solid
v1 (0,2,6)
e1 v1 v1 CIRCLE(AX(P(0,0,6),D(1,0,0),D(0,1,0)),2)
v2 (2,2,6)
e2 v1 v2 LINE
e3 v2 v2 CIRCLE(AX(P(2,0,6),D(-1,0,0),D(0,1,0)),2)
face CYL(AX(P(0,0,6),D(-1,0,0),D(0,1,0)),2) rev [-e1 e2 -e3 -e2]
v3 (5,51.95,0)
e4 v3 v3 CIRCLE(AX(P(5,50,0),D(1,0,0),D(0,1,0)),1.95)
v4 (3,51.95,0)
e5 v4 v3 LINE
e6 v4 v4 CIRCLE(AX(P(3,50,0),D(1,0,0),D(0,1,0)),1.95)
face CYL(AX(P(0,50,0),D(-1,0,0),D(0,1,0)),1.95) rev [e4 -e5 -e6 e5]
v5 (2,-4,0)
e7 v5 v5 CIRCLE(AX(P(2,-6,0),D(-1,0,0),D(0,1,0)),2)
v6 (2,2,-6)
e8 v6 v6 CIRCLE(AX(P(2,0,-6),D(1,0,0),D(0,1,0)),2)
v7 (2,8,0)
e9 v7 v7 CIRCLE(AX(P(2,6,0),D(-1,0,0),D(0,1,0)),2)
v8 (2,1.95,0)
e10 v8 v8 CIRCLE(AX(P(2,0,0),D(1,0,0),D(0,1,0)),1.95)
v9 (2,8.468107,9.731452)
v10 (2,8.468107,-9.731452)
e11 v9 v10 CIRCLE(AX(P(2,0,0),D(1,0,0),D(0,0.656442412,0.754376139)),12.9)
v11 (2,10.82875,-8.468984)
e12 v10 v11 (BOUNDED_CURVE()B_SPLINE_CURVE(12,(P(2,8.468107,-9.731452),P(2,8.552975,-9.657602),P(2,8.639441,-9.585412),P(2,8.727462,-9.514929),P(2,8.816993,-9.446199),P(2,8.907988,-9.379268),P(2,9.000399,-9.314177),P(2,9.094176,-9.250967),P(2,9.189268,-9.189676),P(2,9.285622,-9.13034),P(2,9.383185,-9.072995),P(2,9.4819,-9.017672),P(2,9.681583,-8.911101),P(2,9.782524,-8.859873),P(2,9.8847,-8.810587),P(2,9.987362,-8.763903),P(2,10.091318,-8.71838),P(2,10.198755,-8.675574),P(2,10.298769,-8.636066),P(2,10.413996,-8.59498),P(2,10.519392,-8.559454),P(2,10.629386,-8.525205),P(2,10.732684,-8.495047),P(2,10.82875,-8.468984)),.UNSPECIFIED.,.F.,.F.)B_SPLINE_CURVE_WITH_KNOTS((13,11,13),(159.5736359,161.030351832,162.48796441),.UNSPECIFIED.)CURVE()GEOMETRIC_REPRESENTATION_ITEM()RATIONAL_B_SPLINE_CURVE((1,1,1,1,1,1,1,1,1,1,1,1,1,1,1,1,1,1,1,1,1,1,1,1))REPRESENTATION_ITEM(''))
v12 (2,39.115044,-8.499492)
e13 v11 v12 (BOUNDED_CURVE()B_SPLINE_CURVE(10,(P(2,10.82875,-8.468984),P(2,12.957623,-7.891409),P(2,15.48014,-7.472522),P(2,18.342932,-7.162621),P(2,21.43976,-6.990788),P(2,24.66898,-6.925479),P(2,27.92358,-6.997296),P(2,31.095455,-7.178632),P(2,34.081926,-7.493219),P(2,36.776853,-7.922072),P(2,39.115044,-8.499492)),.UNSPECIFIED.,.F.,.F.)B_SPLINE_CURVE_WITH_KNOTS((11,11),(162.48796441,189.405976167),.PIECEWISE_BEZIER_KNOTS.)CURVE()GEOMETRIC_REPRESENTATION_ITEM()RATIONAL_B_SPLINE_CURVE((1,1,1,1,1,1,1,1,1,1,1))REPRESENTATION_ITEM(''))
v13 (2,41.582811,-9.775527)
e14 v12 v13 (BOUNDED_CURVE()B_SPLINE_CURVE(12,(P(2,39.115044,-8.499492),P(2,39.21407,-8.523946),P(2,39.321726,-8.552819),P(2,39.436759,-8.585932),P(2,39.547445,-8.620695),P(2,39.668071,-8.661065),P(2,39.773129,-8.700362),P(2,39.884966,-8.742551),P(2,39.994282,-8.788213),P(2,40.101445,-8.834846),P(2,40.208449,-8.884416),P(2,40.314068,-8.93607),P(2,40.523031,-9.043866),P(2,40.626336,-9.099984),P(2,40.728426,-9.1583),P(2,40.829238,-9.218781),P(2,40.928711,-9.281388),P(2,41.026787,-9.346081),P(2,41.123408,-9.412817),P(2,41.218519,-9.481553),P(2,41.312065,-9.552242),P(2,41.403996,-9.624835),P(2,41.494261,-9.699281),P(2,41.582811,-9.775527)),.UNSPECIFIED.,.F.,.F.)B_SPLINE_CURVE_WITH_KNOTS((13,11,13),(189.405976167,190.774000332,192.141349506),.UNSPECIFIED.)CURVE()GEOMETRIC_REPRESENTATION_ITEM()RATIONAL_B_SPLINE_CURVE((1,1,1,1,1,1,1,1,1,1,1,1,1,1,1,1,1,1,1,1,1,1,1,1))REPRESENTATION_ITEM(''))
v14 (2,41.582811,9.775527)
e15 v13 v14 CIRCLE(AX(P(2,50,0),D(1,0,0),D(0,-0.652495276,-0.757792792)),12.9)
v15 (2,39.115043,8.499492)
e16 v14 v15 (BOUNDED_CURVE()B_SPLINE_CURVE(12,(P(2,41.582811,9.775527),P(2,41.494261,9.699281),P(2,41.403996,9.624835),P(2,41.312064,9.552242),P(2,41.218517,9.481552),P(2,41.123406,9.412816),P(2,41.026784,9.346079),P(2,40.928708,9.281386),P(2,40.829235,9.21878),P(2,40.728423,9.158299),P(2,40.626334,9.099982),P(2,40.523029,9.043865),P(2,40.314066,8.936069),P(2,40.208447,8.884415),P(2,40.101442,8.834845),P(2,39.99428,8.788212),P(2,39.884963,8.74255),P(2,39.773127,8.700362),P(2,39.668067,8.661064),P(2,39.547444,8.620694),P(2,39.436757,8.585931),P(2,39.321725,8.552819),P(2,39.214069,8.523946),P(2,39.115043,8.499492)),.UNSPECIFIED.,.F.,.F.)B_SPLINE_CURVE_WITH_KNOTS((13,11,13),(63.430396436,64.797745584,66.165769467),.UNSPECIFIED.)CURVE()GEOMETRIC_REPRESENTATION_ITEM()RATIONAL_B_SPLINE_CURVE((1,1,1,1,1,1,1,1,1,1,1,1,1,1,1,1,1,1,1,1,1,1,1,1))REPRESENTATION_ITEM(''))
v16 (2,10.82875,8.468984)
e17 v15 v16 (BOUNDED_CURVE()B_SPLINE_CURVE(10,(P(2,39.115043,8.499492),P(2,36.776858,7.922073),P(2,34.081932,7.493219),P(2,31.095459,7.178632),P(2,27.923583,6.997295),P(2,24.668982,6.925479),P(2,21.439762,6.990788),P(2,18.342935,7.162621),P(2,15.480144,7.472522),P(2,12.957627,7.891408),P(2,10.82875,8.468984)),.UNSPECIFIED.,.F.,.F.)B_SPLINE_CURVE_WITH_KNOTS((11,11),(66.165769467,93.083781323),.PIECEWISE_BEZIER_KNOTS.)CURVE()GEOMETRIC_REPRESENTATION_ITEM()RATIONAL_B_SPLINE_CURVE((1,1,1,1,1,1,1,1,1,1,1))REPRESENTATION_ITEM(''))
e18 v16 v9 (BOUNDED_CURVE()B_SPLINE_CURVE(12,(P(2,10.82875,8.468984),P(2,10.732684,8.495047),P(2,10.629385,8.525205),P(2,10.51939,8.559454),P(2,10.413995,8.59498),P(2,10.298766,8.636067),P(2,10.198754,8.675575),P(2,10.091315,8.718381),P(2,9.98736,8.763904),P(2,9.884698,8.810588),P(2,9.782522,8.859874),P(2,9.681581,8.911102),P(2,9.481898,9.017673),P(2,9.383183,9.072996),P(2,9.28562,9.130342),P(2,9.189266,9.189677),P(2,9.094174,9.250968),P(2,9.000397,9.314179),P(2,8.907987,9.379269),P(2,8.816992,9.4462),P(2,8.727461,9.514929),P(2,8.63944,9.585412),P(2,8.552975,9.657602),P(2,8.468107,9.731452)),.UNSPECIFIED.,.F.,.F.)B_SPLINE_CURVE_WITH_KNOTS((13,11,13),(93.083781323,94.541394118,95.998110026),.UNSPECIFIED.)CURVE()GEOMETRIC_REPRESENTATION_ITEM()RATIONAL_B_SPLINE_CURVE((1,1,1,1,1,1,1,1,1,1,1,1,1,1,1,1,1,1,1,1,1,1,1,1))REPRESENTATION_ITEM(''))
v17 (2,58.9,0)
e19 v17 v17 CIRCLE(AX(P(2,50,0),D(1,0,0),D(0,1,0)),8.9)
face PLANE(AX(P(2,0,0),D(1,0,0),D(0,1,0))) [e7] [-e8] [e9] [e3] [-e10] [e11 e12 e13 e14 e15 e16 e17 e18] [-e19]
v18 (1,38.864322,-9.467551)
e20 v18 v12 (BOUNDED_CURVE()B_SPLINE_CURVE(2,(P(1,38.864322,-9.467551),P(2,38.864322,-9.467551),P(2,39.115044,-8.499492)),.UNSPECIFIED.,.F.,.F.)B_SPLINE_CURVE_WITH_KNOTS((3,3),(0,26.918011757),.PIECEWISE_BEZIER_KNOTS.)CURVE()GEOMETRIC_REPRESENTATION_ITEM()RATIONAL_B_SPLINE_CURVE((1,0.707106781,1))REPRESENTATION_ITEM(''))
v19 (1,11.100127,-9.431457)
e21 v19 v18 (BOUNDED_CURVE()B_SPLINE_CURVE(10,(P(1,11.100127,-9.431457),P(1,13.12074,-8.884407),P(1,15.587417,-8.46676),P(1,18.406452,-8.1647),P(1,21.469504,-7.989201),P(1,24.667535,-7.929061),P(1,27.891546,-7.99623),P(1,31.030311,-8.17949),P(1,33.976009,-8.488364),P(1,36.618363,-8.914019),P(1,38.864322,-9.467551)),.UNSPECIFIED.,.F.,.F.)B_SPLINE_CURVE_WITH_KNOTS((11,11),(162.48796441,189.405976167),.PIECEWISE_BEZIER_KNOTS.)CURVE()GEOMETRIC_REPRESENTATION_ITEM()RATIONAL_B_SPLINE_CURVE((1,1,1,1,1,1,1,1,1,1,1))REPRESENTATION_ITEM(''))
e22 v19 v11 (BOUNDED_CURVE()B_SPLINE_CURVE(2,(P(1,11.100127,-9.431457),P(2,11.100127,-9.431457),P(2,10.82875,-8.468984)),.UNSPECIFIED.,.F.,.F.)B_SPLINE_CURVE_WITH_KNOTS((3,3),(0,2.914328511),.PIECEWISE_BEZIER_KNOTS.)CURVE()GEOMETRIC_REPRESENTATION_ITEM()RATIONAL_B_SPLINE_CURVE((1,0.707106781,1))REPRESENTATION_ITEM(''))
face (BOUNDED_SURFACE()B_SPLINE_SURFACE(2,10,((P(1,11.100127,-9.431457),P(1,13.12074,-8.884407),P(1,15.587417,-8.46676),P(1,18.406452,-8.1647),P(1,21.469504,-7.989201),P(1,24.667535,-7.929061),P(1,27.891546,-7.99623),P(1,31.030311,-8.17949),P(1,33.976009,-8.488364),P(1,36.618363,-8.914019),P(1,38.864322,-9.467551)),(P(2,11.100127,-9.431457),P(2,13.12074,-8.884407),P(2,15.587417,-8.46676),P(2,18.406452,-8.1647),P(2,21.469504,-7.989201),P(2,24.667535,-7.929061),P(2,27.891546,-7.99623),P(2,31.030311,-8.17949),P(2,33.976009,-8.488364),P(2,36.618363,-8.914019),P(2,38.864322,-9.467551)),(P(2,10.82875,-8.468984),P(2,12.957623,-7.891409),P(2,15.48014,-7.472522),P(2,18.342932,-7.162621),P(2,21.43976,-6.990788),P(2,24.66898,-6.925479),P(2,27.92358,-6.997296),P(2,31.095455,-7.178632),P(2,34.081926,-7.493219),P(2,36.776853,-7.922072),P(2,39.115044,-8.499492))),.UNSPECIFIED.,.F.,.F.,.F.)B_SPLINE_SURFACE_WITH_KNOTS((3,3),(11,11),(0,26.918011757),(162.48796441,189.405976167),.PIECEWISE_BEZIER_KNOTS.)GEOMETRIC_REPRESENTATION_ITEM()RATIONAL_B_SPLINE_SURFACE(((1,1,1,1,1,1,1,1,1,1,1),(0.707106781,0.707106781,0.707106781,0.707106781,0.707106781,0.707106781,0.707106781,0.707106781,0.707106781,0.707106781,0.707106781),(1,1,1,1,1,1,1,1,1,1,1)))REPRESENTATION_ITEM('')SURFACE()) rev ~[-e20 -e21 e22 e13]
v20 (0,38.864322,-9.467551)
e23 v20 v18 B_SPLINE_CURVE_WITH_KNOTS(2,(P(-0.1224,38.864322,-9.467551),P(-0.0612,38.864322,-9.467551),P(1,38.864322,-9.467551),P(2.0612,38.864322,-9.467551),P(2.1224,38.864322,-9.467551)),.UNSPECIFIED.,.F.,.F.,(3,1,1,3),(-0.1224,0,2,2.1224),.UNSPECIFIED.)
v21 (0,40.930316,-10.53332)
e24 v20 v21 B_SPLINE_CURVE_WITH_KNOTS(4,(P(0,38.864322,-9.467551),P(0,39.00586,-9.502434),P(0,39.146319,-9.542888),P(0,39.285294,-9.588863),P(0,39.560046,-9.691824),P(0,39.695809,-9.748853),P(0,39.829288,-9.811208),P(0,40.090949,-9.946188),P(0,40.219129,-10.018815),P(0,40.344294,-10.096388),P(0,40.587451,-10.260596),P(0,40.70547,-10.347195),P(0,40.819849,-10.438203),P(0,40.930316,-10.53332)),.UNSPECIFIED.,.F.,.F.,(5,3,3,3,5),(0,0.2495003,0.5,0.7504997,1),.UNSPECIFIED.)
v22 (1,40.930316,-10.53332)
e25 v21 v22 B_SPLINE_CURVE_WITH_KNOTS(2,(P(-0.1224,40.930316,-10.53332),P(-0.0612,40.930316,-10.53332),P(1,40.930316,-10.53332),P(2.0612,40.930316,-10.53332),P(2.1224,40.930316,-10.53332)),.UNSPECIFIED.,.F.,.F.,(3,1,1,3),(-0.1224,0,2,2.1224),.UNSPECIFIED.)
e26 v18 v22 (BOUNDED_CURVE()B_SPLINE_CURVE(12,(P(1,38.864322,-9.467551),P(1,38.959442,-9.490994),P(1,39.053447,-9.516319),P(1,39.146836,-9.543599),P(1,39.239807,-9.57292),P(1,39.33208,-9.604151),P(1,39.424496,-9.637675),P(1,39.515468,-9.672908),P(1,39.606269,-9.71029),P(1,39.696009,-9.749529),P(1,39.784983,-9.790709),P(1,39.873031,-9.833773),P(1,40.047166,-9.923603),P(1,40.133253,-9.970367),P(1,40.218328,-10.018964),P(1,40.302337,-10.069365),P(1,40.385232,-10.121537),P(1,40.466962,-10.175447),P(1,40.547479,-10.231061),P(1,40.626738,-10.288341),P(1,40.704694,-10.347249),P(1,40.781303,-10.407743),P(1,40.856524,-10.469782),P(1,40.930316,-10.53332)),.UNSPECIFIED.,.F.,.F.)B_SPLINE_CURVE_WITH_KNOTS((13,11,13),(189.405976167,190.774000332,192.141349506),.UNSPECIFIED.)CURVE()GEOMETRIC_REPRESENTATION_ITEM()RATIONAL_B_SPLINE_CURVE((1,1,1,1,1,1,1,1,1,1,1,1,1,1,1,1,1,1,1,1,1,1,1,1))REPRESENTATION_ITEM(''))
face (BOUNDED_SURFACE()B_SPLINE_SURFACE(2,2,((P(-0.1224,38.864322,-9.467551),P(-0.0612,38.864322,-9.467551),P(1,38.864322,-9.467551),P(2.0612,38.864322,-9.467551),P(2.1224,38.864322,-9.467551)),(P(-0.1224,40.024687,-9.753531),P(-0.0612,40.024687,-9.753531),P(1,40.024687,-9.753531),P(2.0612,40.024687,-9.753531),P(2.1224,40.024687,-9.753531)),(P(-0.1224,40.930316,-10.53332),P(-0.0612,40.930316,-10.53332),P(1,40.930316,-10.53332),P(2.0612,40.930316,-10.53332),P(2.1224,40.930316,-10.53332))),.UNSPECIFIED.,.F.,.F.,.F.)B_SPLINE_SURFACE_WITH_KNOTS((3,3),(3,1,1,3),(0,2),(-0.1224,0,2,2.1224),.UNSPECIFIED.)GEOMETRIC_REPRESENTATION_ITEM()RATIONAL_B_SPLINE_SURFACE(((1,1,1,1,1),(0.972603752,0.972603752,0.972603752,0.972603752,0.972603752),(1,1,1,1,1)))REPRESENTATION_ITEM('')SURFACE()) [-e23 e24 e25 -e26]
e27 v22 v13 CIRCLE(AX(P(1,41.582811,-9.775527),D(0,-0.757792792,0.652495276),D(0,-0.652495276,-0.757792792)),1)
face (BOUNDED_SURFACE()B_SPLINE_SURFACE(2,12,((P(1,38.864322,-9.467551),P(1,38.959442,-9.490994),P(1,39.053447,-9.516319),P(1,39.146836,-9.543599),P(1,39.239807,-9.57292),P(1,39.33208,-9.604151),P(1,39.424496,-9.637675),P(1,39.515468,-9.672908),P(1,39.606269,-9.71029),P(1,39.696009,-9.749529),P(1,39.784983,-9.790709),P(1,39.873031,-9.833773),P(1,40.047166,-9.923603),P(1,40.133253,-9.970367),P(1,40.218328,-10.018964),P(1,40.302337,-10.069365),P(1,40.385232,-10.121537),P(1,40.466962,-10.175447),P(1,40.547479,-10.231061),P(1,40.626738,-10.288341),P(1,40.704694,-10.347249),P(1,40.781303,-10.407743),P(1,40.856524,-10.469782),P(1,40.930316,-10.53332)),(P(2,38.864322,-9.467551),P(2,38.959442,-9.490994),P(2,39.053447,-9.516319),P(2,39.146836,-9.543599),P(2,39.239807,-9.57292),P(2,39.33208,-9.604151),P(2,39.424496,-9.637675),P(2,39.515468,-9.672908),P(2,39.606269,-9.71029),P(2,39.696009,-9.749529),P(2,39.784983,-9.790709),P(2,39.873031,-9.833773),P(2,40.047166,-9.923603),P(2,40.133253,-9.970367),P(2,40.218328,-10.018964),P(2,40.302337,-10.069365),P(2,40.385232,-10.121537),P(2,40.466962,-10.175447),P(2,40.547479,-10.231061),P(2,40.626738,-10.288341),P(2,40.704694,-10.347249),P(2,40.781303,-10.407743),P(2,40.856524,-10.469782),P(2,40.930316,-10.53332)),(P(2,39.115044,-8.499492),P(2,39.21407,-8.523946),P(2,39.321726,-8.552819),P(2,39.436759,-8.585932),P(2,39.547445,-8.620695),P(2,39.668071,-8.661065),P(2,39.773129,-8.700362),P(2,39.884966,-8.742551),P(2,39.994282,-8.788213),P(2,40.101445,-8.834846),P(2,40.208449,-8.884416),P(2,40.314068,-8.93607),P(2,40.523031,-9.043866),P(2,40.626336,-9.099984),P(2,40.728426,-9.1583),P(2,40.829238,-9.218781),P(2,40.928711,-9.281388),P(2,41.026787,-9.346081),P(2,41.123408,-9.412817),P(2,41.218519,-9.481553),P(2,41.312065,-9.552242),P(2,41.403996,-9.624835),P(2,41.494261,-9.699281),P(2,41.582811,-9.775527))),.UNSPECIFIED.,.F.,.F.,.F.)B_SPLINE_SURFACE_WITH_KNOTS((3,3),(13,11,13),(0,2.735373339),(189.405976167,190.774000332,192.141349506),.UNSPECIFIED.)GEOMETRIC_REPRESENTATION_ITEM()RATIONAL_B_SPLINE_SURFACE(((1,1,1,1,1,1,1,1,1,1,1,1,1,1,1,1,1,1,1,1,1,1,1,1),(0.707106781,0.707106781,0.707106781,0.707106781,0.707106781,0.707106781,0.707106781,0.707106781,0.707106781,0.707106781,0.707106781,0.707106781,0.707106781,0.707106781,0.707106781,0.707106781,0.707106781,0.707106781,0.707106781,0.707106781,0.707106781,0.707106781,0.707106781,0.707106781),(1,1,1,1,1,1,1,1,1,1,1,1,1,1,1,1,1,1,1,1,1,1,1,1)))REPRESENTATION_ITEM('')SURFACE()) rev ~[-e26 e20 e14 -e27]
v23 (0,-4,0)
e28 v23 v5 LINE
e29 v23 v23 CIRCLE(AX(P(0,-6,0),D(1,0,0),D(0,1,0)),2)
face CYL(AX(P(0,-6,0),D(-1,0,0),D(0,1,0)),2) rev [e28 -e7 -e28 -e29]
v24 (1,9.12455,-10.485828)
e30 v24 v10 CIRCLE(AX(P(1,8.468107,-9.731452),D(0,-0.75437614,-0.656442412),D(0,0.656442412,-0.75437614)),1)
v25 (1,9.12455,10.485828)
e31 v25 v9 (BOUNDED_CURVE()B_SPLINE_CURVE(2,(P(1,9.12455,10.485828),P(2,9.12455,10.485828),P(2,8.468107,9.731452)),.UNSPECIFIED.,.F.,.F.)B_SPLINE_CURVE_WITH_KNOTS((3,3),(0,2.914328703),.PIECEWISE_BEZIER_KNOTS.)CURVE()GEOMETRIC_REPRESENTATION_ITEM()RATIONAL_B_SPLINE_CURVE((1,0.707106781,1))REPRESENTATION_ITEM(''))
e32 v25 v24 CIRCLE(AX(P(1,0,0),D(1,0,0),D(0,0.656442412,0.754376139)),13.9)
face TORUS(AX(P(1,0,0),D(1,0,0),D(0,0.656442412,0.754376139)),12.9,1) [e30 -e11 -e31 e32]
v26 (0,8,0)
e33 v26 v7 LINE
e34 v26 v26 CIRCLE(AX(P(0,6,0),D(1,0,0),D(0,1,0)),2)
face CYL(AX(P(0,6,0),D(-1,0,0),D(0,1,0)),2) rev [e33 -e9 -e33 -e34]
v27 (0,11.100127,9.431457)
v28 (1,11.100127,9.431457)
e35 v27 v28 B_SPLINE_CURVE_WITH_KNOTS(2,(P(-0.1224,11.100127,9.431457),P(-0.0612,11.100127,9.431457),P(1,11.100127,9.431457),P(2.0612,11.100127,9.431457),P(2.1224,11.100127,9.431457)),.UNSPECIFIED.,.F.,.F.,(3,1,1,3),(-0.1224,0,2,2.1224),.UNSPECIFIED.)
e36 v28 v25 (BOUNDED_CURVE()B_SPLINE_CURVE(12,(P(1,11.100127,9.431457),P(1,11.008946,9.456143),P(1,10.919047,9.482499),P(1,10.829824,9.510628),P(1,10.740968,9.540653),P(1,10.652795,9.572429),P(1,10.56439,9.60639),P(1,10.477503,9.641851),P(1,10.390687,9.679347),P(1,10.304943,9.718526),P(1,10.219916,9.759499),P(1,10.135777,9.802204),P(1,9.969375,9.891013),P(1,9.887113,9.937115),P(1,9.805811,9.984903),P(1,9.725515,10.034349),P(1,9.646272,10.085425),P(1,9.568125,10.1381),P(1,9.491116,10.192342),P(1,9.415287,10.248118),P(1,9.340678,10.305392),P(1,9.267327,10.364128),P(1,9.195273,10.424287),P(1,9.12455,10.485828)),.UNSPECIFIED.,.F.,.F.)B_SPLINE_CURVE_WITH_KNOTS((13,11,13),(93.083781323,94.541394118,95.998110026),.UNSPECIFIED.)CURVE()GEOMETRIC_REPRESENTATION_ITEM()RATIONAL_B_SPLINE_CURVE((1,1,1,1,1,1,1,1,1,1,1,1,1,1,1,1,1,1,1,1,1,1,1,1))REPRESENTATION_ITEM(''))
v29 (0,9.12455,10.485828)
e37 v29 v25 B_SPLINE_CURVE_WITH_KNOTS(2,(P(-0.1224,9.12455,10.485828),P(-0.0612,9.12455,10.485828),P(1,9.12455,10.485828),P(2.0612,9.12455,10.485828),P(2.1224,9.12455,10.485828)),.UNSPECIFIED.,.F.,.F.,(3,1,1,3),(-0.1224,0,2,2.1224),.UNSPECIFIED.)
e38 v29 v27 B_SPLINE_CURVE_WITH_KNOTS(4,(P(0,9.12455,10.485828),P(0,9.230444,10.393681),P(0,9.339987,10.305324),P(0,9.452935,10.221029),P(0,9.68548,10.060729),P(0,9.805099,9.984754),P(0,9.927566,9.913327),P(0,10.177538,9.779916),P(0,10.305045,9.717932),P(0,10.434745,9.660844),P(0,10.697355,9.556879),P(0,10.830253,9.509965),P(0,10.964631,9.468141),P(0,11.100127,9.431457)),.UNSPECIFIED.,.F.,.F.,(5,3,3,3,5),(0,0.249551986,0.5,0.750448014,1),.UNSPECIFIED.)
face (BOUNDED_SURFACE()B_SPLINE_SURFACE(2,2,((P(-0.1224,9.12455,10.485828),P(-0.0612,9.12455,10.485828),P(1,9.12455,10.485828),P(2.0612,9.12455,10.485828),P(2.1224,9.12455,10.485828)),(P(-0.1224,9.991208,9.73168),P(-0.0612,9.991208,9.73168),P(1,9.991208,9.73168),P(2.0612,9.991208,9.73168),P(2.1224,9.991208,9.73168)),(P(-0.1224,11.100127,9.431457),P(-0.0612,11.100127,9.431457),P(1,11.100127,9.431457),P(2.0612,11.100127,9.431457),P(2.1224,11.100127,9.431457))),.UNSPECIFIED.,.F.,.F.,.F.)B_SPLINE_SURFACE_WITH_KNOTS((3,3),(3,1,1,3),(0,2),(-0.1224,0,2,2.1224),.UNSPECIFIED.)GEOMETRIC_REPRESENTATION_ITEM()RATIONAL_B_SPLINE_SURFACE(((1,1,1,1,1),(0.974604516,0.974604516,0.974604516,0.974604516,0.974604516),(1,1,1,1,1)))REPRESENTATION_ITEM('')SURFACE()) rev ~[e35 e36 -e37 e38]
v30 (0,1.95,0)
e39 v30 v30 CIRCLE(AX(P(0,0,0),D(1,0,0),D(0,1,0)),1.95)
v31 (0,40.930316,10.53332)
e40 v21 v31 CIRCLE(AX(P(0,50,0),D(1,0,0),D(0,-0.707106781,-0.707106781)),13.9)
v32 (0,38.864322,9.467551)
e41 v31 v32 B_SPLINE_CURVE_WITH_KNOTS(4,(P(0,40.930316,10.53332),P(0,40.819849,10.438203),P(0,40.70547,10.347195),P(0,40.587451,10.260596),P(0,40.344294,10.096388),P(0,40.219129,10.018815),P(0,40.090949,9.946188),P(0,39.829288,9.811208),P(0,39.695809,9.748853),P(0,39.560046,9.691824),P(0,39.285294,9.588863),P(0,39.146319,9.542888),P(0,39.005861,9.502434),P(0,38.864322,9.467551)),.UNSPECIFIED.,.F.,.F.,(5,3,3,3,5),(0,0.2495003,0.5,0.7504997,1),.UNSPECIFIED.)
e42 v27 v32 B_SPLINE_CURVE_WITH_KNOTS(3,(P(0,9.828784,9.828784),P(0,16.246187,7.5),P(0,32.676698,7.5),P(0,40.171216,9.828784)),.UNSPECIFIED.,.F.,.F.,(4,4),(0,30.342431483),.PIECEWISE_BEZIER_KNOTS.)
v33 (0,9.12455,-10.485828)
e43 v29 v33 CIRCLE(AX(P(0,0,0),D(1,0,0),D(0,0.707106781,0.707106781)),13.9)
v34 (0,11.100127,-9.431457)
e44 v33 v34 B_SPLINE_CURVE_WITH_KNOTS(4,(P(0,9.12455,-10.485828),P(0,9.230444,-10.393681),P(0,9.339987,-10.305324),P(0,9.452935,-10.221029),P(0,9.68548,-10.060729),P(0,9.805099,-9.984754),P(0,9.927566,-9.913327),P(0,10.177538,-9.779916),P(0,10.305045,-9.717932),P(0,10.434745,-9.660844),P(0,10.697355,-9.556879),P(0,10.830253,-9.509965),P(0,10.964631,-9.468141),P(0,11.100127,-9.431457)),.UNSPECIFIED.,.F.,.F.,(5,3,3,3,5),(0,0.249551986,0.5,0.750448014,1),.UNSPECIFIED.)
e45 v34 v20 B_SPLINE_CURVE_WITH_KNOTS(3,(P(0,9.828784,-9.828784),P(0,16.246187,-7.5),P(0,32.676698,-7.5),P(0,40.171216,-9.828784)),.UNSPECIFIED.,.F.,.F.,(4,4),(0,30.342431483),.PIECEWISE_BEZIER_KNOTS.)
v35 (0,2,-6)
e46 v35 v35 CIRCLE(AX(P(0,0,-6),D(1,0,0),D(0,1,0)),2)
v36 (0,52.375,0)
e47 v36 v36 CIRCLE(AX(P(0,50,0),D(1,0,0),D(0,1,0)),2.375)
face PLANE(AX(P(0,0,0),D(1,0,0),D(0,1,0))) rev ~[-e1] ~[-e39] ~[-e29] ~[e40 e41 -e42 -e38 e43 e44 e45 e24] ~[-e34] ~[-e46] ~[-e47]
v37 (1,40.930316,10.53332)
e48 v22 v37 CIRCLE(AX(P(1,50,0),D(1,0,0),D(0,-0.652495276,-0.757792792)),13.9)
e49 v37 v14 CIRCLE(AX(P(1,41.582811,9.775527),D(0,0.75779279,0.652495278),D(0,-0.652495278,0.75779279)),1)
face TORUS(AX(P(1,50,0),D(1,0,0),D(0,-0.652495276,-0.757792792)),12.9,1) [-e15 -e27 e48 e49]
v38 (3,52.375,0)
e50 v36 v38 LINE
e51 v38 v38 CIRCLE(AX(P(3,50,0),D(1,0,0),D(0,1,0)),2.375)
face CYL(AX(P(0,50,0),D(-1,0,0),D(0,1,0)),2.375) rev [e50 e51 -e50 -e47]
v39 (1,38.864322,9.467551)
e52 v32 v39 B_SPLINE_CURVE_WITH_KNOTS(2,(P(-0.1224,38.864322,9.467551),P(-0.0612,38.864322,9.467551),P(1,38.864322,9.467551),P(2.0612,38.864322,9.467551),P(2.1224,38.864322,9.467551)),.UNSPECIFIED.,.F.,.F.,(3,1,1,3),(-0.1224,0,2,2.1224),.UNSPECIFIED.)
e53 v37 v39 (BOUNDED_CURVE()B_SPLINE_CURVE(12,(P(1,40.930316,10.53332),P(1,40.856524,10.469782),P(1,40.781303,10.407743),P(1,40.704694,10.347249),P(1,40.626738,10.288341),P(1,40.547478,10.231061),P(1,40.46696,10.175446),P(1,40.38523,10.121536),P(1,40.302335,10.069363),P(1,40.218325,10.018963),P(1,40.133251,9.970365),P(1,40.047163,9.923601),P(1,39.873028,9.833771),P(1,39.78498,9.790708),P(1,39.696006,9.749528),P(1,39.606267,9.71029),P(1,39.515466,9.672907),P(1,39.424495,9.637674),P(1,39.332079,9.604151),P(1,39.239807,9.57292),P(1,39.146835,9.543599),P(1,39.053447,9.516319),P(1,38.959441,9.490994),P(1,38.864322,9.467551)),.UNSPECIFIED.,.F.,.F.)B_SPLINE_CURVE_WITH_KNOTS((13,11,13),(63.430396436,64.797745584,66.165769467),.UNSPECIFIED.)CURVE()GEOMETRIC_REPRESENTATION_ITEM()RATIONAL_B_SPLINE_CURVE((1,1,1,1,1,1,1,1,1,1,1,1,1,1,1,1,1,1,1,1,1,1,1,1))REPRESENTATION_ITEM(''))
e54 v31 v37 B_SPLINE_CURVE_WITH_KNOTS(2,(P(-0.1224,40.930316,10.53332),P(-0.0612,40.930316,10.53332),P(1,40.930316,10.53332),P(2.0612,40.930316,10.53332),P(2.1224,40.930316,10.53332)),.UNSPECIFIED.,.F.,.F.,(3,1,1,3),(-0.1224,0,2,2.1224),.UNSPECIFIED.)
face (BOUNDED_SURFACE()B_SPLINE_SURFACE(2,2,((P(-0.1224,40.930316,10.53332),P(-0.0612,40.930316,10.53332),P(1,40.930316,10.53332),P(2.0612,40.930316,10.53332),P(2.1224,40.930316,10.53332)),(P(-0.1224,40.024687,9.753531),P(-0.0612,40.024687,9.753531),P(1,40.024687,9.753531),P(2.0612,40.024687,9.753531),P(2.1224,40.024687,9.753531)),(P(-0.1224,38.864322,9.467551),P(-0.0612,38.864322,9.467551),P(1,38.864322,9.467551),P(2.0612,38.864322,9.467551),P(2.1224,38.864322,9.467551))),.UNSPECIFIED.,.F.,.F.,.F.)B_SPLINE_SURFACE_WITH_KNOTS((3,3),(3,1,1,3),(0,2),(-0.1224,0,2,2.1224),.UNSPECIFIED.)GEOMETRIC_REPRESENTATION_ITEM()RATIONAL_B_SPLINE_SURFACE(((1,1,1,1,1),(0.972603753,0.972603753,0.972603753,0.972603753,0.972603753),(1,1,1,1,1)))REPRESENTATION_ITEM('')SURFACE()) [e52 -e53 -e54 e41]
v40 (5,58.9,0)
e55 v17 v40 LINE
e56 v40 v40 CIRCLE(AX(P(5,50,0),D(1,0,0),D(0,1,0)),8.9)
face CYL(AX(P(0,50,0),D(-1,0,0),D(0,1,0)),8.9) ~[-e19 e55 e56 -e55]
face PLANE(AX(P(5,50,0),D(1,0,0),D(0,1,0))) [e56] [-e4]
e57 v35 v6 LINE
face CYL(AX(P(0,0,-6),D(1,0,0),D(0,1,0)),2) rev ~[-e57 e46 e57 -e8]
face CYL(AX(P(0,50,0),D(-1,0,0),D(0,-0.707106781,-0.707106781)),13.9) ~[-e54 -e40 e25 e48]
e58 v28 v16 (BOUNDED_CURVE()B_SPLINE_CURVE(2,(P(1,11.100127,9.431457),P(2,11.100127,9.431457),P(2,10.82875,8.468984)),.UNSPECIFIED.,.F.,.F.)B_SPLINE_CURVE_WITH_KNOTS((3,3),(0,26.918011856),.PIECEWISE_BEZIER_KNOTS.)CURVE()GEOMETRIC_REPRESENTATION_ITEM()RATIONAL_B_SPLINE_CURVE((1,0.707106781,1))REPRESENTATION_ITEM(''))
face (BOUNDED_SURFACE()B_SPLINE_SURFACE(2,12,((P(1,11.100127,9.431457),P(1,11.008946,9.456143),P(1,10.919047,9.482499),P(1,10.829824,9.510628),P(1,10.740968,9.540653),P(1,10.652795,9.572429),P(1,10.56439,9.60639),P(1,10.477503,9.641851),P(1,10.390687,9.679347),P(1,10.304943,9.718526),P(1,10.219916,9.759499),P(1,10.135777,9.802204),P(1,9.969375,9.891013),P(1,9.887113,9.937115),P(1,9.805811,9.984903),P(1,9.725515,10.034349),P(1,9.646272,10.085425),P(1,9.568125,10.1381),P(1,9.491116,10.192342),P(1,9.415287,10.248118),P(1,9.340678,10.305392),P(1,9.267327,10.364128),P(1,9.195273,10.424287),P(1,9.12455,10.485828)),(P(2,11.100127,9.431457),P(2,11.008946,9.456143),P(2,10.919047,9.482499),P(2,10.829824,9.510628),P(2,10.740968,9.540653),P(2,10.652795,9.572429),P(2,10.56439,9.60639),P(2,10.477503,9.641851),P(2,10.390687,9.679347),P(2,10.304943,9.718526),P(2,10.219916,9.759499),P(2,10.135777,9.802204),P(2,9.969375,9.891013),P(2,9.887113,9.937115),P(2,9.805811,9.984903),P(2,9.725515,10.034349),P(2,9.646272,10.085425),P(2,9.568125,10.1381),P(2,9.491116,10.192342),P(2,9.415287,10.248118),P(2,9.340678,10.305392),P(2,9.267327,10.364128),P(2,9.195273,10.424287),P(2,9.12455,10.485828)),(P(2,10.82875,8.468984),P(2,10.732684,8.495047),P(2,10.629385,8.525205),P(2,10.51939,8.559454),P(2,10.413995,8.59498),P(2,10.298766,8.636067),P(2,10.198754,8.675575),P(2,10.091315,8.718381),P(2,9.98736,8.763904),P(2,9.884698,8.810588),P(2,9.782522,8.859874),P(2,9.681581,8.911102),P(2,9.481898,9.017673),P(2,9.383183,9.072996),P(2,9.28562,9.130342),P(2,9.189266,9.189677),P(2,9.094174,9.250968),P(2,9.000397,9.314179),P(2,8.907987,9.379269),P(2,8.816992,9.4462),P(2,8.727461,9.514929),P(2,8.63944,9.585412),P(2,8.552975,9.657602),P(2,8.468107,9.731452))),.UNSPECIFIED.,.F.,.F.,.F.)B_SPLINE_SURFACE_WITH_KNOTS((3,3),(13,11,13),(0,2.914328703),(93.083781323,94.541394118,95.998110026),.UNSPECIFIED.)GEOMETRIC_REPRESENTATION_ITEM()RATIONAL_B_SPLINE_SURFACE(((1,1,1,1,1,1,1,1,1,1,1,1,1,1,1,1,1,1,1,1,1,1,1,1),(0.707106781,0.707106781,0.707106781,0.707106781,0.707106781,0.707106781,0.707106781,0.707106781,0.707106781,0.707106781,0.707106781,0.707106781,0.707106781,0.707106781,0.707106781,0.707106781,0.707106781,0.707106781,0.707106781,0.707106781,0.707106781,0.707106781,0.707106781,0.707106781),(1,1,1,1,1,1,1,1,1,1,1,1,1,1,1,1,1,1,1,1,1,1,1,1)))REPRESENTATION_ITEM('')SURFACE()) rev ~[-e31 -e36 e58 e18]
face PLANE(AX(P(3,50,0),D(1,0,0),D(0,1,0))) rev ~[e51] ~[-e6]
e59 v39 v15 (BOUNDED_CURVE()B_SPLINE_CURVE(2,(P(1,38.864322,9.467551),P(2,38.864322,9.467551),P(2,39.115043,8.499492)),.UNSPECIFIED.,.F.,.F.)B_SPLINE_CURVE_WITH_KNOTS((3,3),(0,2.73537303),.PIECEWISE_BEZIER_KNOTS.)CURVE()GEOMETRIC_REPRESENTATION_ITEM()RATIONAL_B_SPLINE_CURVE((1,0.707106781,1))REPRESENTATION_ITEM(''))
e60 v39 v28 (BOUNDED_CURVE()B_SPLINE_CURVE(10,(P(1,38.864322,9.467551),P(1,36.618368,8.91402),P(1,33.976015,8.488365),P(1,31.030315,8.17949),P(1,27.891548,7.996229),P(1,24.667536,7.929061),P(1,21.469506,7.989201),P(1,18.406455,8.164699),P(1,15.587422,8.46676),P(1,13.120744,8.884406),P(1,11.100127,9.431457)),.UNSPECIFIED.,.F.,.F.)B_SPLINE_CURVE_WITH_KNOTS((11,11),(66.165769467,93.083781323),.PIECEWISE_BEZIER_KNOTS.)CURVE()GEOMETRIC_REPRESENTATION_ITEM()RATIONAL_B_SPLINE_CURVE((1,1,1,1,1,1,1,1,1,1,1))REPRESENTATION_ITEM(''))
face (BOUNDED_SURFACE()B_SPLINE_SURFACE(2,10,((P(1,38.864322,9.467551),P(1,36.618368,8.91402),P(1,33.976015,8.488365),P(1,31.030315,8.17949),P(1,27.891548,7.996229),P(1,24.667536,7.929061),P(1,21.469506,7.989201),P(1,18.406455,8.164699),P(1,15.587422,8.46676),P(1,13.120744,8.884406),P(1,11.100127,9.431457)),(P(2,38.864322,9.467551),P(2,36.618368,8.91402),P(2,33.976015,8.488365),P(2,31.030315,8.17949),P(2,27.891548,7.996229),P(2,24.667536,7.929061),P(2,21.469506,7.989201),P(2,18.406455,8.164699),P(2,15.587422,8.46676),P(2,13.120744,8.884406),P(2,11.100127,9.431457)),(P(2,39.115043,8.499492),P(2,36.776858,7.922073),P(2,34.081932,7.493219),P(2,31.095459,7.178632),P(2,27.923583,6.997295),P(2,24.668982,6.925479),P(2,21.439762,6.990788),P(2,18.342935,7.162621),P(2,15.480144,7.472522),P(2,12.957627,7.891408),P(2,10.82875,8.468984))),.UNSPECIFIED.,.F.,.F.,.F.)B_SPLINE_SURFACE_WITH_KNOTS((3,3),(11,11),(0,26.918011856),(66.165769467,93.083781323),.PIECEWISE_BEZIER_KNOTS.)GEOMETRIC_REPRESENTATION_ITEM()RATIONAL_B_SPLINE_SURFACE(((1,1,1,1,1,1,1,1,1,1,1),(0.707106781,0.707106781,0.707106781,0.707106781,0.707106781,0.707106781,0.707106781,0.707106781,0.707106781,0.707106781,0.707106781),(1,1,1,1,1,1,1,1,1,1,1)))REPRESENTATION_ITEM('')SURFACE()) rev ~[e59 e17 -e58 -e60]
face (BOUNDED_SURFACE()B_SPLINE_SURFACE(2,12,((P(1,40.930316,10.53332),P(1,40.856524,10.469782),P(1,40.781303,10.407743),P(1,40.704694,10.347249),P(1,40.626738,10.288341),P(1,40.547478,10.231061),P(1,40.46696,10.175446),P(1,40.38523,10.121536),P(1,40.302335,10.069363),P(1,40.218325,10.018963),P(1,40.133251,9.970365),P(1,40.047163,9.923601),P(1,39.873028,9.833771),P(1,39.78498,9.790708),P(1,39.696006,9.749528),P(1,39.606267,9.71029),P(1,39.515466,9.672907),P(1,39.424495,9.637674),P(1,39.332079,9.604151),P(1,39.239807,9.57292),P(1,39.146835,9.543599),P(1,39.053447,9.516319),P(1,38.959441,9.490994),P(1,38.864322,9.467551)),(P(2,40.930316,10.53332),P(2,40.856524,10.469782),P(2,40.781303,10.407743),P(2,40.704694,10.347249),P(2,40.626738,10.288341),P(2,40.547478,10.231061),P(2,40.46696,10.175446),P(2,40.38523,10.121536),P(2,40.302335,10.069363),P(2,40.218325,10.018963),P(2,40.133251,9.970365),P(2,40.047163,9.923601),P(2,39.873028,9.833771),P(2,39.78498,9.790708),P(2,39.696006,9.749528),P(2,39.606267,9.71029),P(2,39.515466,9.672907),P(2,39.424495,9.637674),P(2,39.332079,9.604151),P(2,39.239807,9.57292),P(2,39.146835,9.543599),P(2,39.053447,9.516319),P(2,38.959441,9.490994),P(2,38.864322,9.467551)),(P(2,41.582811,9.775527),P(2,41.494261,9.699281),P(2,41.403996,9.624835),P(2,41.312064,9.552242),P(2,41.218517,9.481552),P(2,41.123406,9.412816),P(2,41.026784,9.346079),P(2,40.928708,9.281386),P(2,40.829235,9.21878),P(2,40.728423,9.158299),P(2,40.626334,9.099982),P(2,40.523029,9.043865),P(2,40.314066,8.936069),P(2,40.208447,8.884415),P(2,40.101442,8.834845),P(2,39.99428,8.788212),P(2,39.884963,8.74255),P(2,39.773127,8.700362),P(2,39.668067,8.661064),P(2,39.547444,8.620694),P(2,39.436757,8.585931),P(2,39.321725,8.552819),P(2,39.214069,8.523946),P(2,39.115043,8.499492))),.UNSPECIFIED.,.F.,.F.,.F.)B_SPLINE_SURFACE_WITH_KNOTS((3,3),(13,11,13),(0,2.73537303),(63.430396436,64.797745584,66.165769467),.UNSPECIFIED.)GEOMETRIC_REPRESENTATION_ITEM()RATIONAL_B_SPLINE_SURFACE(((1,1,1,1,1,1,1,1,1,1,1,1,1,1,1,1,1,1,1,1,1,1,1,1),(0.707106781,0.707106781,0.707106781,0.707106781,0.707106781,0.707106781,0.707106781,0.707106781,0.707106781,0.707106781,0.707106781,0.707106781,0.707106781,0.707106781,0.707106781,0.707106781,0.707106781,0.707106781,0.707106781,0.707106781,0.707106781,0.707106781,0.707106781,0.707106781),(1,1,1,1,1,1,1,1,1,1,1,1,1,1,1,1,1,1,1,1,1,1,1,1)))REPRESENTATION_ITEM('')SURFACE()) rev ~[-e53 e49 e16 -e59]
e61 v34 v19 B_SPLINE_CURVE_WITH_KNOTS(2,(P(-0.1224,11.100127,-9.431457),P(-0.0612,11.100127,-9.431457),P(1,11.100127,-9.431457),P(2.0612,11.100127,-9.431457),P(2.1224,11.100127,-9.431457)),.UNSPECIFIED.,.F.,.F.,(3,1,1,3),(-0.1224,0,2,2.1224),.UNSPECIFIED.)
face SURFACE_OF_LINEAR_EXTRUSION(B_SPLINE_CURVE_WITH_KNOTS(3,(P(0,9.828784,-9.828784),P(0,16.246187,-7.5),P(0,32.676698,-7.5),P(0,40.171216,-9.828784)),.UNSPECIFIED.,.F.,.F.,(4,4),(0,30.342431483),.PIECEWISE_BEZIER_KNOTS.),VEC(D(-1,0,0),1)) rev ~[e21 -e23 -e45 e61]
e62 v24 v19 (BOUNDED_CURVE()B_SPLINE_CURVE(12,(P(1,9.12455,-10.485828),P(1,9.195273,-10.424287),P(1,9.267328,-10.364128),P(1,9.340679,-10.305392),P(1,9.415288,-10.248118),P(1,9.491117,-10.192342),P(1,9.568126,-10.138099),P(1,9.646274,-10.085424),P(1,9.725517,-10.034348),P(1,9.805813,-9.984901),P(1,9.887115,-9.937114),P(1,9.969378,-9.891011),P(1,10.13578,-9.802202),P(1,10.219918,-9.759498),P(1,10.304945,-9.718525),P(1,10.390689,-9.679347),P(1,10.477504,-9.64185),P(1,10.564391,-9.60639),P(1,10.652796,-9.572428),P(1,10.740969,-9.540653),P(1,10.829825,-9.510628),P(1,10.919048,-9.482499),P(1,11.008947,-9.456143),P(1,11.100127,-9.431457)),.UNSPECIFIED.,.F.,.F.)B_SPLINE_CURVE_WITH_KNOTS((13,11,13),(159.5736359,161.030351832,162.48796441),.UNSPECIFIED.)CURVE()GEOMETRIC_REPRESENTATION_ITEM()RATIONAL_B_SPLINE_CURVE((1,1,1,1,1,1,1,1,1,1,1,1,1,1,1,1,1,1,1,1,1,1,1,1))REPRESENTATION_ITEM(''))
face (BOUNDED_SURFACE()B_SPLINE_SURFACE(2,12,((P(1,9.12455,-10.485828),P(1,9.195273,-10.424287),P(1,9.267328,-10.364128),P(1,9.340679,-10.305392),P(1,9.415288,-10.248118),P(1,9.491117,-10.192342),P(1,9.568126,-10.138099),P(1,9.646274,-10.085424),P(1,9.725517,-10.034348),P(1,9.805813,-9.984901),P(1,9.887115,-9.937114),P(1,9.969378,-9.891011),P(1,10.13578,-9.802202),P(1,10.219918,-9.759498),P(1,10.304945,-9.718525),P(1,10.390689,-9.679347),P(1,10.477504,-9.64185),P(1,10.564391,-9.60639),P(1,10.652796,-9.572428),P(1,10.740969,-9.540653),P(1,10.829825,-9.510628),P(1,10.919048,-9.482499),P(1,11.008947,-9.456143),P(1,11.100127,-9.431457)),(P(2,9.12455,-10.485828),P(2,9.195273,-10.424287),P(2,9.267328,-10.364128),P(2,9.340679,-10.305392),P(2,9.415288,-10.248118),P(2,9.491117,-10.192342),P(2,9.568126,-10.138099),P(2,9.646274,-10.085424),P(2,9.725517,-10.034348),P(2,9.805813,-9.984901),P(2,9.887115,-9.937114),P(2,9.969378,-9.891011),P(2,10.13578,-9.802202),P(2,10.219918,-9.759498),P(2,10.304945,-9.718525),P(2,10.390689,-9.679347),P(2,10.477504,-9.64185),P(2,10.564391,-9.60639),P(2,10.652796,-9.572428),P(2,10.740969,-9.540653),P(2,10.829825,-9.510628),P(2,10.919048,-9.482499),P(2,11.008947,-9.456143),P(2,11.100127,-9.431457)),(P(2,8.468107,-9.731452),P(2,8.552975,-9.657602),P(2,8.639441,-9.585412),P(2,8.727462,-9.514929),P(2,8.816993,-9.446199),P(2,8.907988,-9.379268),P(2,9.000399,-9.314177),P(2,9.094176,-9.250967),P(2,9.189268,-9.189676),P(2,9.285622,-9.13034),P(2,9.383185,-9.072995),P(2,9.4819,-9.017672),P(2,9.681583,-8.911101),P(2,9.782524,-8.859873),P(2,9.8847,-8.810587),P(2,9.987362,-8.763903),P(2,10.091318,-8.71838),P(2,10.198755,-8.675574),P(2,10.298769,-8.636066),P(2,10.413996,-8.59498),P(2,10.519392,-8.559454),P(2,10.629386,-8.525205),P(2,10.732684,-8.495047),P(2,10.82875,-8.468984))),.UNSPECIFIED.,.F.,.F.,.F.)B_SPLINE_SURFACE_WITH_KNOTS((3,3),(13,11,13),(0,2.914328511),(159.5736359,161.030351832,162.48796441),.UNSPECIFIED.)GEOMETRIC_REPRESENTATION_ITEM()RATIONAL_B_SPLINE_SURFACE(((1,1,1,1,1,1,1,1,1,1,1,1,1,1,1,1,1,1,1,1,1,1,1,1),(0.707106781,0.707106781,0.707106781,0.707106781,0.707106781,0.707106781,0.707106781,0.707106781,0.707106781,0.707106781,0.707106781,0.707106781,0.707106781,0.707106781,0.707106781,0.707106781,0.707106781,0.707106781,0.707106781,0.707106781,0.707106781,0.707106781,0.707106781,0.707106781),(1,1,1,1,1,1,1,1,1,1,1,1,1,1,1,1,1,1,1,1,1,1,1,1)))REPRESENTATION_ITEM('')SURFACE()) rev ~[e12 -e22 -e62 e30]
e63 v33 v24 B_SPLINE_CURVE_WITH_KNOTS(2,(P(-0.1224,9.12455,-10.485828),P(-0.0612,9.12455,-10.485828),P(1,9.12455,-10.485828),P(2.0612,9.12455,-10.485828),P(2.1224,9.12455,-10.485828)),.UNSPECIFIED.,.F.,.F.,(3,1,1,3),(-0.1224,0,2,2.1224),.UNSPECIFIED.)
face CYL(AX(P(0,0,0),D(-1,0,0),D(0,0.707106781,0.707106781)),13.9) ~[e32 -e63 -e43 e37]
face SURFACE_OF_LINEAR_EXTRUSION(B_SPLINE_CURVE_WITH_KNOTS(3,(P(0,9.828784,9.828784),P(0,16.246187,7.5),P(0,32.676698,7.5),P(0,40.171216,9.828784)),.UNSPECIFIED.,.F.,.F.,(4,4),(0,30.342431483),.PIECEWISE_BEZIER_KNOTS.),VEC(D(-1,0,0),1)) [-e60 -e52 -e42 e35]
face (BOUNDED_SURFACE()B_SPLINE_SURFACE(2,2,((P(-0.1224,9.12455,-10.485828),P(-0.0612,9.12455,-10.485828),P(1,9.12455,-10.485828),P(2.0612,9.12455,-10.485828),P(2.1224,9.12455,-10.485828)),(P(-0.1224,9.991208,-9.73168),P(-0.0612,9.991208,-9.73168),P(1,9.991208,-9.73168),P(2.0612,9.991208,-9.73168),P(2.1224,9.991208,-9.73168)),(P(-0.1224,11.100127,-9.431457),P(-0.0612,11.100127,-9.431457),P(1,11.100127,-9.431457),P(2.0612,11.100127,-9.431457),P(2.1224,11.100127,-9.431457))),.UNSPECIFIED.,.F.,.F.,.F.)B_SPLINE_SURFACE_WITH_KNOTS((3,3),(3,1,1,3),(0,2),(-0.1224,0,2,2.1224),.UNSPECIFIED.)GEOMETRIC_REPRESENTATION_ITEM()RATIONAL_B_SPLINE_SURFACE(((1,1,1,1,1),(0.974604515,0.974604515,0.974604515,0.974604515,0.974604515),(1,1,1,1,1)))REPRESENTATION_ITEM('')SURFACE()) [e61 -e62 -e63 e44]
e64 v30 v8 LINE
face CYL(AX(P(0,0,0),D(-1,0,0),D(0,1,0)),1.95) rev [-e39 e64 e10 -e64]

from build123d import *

# Parameters (mm, degrees)
F0_R     = 8.9
F0_R_2   = 2.375
F0_R_3   = 1.95
F1_DEPTH = 5
F2_DEPTH = 2
F3_DEPTH = 2
F4_R     = 5
F5_R     = 1
F6_R     = 2
F7_DEPTH = 12.5
F8_DEPTH = 3


with BuildPart() as f1:
    # F0 (on Right) → F1 (new body)
    with BuildSketch(Plane.YZ):
        with Locations((50, 0)):
            Circle(F0_R)
        with Locations((50, 0)):
            Circle(F0_R_2, mode=Mode.SUBTRACT)
        with Locations((50, 0)):
            Circle(F0_R_2)
        with Locations((50, 0)):
            Circle(F0_R_3, mode=Mode.SUBTRACT)
    extrude(amount=F1_DEPTH)

    # F0 (on Right) → F2 (join)
    with BuildSketch(Plane.YZ):
        with BuildLine():
            ThreePointArc((9.8287842585, -9.8287842585), (12.8419255019, -5.3192997099), (13.9, 0))
            ThreePointArc((13.9, 0), (12.8419255019, 5.3192997099), (9.8287842585, 9.8287842585))
            ThreePointArc((9.8287842585, 9.8287842585), (-13.9, 0), (9.8287842585, -9.8287842585))
        make_face()
        Circle(F0_R, mode=Mode.SUBTRACT)
        with BuildLine():
            ThreePointArc((9.8287842585, 9.8287842585), (12.8419255019, 5.3192997099), (13.9, 0))
            ThreePointArc((13.9, 0), (12.8419255019, -5.3192997099), (9.8287842585, -9.8287842585))
            add(Edge.make_bspline(
                [(9.8287842585, -9.8287842585), (16.2461867133, -7.50000003), (32.6766982829, -7.5000000581), (40.1712157415, -9.8287842585)],
                knots=[0, 0, 0, 0, 30.342431483, 30.342431483, 30.342431483, 30.342431483], degree=3))
            ThreePointArc((40.1712157415, -9.8287842585), (36.1, 0), (40.1712157415, 9.8287842585))
            add(Edge.make_bspline(
                [(9.8287842585, 9.8287842585), (16.2461867454, 7.49999997), (32.6766983239, 7.4999999419), (40.1712157415, 9.8287842585)],
                knots=[0, 0, 0, 0, 30.342431483, 30.342431483, 30.342431483, 30.342431483], degree=3))
        make_face()
        with BuildLine():
            ThreePointArc((63.9, 0), (55.3192997099, 12.8419255019), (40.1712157415, 9.8287842585))
            ThreePointArc((40.1712157415, 9.8287842585), (36.1, 0), (40.1712157415, -9.8287842585))
            ThreePointArc((40.1712157415, -9.8287842585), (55.3192997099, -12.8419255019), (63.9, 0))
        make_face()
        with Locations((50, 0)):
            Circle(F0_R, mode=Mode.SUBTRACT)
    extrude(amount=F2_DEPTH)

    # F0 (on Right) → F3 (join)
    with BuildSketch(Plane.YZ):
        Circle(F0_R)
        Circle(F0_R_2, mode=Mode.SUBTRACT)
        Circle(F0_R_2)
        Circle(F0_R_3, mode=Mode.SUBTRACT)
    extrude(amount=F3_DEPTH)

    # F4
    f4_edges = [f1.edges().sort_by_distance(p)[0] for p in [
        (1, 9.828784, 9.828784),
        (1, 40.171216, 9.828784),
        (1, 9.828784, -9.828784),
        (1, 40.171216, -9.828784),
    ]]
    fillet(f4_edges, radius=F4_R)

    # F5
    f5_edges = [f1.edges().sort_by_distance(p)[0] for p in [
        (2, 63.9, 0),
        (2, 24.980578, 8.083035),
        (2, -13.9, 0),
        (2, 24.980578, -8.083035),
    ]]
    fillet(f5_edges, radius=F5_R)

    # F6 (on Right) → F7 (cut, symmetric)
    with BuildSketch(Plane.YZ):
        with Locations((6, 0)):
            Circle(F6_R)
        with Locations((-6, 0)):
            Circle(F6_R)
        with Locations((0, 6)):
            Circle(F6_R)
        with Locations((0, -6)):
            Circle(F6_R)
    extrude(amount=F7_DEPTH, both=True, mode=Mode.SUBTRACT)

    # F0 (on Right) → F8 (cut)
    with BuildSketch(Plane.YZ):
        with Locations((50, 0)):
            Circle(F0_R_2)
        with Locations((50, 0)):
            Circle(F0_R_3, mode=Mode.SUBTRACT)
    extrude(amount=F8_DEPTH, mode=Mode.SUBTRACT)


solid = f1.part
